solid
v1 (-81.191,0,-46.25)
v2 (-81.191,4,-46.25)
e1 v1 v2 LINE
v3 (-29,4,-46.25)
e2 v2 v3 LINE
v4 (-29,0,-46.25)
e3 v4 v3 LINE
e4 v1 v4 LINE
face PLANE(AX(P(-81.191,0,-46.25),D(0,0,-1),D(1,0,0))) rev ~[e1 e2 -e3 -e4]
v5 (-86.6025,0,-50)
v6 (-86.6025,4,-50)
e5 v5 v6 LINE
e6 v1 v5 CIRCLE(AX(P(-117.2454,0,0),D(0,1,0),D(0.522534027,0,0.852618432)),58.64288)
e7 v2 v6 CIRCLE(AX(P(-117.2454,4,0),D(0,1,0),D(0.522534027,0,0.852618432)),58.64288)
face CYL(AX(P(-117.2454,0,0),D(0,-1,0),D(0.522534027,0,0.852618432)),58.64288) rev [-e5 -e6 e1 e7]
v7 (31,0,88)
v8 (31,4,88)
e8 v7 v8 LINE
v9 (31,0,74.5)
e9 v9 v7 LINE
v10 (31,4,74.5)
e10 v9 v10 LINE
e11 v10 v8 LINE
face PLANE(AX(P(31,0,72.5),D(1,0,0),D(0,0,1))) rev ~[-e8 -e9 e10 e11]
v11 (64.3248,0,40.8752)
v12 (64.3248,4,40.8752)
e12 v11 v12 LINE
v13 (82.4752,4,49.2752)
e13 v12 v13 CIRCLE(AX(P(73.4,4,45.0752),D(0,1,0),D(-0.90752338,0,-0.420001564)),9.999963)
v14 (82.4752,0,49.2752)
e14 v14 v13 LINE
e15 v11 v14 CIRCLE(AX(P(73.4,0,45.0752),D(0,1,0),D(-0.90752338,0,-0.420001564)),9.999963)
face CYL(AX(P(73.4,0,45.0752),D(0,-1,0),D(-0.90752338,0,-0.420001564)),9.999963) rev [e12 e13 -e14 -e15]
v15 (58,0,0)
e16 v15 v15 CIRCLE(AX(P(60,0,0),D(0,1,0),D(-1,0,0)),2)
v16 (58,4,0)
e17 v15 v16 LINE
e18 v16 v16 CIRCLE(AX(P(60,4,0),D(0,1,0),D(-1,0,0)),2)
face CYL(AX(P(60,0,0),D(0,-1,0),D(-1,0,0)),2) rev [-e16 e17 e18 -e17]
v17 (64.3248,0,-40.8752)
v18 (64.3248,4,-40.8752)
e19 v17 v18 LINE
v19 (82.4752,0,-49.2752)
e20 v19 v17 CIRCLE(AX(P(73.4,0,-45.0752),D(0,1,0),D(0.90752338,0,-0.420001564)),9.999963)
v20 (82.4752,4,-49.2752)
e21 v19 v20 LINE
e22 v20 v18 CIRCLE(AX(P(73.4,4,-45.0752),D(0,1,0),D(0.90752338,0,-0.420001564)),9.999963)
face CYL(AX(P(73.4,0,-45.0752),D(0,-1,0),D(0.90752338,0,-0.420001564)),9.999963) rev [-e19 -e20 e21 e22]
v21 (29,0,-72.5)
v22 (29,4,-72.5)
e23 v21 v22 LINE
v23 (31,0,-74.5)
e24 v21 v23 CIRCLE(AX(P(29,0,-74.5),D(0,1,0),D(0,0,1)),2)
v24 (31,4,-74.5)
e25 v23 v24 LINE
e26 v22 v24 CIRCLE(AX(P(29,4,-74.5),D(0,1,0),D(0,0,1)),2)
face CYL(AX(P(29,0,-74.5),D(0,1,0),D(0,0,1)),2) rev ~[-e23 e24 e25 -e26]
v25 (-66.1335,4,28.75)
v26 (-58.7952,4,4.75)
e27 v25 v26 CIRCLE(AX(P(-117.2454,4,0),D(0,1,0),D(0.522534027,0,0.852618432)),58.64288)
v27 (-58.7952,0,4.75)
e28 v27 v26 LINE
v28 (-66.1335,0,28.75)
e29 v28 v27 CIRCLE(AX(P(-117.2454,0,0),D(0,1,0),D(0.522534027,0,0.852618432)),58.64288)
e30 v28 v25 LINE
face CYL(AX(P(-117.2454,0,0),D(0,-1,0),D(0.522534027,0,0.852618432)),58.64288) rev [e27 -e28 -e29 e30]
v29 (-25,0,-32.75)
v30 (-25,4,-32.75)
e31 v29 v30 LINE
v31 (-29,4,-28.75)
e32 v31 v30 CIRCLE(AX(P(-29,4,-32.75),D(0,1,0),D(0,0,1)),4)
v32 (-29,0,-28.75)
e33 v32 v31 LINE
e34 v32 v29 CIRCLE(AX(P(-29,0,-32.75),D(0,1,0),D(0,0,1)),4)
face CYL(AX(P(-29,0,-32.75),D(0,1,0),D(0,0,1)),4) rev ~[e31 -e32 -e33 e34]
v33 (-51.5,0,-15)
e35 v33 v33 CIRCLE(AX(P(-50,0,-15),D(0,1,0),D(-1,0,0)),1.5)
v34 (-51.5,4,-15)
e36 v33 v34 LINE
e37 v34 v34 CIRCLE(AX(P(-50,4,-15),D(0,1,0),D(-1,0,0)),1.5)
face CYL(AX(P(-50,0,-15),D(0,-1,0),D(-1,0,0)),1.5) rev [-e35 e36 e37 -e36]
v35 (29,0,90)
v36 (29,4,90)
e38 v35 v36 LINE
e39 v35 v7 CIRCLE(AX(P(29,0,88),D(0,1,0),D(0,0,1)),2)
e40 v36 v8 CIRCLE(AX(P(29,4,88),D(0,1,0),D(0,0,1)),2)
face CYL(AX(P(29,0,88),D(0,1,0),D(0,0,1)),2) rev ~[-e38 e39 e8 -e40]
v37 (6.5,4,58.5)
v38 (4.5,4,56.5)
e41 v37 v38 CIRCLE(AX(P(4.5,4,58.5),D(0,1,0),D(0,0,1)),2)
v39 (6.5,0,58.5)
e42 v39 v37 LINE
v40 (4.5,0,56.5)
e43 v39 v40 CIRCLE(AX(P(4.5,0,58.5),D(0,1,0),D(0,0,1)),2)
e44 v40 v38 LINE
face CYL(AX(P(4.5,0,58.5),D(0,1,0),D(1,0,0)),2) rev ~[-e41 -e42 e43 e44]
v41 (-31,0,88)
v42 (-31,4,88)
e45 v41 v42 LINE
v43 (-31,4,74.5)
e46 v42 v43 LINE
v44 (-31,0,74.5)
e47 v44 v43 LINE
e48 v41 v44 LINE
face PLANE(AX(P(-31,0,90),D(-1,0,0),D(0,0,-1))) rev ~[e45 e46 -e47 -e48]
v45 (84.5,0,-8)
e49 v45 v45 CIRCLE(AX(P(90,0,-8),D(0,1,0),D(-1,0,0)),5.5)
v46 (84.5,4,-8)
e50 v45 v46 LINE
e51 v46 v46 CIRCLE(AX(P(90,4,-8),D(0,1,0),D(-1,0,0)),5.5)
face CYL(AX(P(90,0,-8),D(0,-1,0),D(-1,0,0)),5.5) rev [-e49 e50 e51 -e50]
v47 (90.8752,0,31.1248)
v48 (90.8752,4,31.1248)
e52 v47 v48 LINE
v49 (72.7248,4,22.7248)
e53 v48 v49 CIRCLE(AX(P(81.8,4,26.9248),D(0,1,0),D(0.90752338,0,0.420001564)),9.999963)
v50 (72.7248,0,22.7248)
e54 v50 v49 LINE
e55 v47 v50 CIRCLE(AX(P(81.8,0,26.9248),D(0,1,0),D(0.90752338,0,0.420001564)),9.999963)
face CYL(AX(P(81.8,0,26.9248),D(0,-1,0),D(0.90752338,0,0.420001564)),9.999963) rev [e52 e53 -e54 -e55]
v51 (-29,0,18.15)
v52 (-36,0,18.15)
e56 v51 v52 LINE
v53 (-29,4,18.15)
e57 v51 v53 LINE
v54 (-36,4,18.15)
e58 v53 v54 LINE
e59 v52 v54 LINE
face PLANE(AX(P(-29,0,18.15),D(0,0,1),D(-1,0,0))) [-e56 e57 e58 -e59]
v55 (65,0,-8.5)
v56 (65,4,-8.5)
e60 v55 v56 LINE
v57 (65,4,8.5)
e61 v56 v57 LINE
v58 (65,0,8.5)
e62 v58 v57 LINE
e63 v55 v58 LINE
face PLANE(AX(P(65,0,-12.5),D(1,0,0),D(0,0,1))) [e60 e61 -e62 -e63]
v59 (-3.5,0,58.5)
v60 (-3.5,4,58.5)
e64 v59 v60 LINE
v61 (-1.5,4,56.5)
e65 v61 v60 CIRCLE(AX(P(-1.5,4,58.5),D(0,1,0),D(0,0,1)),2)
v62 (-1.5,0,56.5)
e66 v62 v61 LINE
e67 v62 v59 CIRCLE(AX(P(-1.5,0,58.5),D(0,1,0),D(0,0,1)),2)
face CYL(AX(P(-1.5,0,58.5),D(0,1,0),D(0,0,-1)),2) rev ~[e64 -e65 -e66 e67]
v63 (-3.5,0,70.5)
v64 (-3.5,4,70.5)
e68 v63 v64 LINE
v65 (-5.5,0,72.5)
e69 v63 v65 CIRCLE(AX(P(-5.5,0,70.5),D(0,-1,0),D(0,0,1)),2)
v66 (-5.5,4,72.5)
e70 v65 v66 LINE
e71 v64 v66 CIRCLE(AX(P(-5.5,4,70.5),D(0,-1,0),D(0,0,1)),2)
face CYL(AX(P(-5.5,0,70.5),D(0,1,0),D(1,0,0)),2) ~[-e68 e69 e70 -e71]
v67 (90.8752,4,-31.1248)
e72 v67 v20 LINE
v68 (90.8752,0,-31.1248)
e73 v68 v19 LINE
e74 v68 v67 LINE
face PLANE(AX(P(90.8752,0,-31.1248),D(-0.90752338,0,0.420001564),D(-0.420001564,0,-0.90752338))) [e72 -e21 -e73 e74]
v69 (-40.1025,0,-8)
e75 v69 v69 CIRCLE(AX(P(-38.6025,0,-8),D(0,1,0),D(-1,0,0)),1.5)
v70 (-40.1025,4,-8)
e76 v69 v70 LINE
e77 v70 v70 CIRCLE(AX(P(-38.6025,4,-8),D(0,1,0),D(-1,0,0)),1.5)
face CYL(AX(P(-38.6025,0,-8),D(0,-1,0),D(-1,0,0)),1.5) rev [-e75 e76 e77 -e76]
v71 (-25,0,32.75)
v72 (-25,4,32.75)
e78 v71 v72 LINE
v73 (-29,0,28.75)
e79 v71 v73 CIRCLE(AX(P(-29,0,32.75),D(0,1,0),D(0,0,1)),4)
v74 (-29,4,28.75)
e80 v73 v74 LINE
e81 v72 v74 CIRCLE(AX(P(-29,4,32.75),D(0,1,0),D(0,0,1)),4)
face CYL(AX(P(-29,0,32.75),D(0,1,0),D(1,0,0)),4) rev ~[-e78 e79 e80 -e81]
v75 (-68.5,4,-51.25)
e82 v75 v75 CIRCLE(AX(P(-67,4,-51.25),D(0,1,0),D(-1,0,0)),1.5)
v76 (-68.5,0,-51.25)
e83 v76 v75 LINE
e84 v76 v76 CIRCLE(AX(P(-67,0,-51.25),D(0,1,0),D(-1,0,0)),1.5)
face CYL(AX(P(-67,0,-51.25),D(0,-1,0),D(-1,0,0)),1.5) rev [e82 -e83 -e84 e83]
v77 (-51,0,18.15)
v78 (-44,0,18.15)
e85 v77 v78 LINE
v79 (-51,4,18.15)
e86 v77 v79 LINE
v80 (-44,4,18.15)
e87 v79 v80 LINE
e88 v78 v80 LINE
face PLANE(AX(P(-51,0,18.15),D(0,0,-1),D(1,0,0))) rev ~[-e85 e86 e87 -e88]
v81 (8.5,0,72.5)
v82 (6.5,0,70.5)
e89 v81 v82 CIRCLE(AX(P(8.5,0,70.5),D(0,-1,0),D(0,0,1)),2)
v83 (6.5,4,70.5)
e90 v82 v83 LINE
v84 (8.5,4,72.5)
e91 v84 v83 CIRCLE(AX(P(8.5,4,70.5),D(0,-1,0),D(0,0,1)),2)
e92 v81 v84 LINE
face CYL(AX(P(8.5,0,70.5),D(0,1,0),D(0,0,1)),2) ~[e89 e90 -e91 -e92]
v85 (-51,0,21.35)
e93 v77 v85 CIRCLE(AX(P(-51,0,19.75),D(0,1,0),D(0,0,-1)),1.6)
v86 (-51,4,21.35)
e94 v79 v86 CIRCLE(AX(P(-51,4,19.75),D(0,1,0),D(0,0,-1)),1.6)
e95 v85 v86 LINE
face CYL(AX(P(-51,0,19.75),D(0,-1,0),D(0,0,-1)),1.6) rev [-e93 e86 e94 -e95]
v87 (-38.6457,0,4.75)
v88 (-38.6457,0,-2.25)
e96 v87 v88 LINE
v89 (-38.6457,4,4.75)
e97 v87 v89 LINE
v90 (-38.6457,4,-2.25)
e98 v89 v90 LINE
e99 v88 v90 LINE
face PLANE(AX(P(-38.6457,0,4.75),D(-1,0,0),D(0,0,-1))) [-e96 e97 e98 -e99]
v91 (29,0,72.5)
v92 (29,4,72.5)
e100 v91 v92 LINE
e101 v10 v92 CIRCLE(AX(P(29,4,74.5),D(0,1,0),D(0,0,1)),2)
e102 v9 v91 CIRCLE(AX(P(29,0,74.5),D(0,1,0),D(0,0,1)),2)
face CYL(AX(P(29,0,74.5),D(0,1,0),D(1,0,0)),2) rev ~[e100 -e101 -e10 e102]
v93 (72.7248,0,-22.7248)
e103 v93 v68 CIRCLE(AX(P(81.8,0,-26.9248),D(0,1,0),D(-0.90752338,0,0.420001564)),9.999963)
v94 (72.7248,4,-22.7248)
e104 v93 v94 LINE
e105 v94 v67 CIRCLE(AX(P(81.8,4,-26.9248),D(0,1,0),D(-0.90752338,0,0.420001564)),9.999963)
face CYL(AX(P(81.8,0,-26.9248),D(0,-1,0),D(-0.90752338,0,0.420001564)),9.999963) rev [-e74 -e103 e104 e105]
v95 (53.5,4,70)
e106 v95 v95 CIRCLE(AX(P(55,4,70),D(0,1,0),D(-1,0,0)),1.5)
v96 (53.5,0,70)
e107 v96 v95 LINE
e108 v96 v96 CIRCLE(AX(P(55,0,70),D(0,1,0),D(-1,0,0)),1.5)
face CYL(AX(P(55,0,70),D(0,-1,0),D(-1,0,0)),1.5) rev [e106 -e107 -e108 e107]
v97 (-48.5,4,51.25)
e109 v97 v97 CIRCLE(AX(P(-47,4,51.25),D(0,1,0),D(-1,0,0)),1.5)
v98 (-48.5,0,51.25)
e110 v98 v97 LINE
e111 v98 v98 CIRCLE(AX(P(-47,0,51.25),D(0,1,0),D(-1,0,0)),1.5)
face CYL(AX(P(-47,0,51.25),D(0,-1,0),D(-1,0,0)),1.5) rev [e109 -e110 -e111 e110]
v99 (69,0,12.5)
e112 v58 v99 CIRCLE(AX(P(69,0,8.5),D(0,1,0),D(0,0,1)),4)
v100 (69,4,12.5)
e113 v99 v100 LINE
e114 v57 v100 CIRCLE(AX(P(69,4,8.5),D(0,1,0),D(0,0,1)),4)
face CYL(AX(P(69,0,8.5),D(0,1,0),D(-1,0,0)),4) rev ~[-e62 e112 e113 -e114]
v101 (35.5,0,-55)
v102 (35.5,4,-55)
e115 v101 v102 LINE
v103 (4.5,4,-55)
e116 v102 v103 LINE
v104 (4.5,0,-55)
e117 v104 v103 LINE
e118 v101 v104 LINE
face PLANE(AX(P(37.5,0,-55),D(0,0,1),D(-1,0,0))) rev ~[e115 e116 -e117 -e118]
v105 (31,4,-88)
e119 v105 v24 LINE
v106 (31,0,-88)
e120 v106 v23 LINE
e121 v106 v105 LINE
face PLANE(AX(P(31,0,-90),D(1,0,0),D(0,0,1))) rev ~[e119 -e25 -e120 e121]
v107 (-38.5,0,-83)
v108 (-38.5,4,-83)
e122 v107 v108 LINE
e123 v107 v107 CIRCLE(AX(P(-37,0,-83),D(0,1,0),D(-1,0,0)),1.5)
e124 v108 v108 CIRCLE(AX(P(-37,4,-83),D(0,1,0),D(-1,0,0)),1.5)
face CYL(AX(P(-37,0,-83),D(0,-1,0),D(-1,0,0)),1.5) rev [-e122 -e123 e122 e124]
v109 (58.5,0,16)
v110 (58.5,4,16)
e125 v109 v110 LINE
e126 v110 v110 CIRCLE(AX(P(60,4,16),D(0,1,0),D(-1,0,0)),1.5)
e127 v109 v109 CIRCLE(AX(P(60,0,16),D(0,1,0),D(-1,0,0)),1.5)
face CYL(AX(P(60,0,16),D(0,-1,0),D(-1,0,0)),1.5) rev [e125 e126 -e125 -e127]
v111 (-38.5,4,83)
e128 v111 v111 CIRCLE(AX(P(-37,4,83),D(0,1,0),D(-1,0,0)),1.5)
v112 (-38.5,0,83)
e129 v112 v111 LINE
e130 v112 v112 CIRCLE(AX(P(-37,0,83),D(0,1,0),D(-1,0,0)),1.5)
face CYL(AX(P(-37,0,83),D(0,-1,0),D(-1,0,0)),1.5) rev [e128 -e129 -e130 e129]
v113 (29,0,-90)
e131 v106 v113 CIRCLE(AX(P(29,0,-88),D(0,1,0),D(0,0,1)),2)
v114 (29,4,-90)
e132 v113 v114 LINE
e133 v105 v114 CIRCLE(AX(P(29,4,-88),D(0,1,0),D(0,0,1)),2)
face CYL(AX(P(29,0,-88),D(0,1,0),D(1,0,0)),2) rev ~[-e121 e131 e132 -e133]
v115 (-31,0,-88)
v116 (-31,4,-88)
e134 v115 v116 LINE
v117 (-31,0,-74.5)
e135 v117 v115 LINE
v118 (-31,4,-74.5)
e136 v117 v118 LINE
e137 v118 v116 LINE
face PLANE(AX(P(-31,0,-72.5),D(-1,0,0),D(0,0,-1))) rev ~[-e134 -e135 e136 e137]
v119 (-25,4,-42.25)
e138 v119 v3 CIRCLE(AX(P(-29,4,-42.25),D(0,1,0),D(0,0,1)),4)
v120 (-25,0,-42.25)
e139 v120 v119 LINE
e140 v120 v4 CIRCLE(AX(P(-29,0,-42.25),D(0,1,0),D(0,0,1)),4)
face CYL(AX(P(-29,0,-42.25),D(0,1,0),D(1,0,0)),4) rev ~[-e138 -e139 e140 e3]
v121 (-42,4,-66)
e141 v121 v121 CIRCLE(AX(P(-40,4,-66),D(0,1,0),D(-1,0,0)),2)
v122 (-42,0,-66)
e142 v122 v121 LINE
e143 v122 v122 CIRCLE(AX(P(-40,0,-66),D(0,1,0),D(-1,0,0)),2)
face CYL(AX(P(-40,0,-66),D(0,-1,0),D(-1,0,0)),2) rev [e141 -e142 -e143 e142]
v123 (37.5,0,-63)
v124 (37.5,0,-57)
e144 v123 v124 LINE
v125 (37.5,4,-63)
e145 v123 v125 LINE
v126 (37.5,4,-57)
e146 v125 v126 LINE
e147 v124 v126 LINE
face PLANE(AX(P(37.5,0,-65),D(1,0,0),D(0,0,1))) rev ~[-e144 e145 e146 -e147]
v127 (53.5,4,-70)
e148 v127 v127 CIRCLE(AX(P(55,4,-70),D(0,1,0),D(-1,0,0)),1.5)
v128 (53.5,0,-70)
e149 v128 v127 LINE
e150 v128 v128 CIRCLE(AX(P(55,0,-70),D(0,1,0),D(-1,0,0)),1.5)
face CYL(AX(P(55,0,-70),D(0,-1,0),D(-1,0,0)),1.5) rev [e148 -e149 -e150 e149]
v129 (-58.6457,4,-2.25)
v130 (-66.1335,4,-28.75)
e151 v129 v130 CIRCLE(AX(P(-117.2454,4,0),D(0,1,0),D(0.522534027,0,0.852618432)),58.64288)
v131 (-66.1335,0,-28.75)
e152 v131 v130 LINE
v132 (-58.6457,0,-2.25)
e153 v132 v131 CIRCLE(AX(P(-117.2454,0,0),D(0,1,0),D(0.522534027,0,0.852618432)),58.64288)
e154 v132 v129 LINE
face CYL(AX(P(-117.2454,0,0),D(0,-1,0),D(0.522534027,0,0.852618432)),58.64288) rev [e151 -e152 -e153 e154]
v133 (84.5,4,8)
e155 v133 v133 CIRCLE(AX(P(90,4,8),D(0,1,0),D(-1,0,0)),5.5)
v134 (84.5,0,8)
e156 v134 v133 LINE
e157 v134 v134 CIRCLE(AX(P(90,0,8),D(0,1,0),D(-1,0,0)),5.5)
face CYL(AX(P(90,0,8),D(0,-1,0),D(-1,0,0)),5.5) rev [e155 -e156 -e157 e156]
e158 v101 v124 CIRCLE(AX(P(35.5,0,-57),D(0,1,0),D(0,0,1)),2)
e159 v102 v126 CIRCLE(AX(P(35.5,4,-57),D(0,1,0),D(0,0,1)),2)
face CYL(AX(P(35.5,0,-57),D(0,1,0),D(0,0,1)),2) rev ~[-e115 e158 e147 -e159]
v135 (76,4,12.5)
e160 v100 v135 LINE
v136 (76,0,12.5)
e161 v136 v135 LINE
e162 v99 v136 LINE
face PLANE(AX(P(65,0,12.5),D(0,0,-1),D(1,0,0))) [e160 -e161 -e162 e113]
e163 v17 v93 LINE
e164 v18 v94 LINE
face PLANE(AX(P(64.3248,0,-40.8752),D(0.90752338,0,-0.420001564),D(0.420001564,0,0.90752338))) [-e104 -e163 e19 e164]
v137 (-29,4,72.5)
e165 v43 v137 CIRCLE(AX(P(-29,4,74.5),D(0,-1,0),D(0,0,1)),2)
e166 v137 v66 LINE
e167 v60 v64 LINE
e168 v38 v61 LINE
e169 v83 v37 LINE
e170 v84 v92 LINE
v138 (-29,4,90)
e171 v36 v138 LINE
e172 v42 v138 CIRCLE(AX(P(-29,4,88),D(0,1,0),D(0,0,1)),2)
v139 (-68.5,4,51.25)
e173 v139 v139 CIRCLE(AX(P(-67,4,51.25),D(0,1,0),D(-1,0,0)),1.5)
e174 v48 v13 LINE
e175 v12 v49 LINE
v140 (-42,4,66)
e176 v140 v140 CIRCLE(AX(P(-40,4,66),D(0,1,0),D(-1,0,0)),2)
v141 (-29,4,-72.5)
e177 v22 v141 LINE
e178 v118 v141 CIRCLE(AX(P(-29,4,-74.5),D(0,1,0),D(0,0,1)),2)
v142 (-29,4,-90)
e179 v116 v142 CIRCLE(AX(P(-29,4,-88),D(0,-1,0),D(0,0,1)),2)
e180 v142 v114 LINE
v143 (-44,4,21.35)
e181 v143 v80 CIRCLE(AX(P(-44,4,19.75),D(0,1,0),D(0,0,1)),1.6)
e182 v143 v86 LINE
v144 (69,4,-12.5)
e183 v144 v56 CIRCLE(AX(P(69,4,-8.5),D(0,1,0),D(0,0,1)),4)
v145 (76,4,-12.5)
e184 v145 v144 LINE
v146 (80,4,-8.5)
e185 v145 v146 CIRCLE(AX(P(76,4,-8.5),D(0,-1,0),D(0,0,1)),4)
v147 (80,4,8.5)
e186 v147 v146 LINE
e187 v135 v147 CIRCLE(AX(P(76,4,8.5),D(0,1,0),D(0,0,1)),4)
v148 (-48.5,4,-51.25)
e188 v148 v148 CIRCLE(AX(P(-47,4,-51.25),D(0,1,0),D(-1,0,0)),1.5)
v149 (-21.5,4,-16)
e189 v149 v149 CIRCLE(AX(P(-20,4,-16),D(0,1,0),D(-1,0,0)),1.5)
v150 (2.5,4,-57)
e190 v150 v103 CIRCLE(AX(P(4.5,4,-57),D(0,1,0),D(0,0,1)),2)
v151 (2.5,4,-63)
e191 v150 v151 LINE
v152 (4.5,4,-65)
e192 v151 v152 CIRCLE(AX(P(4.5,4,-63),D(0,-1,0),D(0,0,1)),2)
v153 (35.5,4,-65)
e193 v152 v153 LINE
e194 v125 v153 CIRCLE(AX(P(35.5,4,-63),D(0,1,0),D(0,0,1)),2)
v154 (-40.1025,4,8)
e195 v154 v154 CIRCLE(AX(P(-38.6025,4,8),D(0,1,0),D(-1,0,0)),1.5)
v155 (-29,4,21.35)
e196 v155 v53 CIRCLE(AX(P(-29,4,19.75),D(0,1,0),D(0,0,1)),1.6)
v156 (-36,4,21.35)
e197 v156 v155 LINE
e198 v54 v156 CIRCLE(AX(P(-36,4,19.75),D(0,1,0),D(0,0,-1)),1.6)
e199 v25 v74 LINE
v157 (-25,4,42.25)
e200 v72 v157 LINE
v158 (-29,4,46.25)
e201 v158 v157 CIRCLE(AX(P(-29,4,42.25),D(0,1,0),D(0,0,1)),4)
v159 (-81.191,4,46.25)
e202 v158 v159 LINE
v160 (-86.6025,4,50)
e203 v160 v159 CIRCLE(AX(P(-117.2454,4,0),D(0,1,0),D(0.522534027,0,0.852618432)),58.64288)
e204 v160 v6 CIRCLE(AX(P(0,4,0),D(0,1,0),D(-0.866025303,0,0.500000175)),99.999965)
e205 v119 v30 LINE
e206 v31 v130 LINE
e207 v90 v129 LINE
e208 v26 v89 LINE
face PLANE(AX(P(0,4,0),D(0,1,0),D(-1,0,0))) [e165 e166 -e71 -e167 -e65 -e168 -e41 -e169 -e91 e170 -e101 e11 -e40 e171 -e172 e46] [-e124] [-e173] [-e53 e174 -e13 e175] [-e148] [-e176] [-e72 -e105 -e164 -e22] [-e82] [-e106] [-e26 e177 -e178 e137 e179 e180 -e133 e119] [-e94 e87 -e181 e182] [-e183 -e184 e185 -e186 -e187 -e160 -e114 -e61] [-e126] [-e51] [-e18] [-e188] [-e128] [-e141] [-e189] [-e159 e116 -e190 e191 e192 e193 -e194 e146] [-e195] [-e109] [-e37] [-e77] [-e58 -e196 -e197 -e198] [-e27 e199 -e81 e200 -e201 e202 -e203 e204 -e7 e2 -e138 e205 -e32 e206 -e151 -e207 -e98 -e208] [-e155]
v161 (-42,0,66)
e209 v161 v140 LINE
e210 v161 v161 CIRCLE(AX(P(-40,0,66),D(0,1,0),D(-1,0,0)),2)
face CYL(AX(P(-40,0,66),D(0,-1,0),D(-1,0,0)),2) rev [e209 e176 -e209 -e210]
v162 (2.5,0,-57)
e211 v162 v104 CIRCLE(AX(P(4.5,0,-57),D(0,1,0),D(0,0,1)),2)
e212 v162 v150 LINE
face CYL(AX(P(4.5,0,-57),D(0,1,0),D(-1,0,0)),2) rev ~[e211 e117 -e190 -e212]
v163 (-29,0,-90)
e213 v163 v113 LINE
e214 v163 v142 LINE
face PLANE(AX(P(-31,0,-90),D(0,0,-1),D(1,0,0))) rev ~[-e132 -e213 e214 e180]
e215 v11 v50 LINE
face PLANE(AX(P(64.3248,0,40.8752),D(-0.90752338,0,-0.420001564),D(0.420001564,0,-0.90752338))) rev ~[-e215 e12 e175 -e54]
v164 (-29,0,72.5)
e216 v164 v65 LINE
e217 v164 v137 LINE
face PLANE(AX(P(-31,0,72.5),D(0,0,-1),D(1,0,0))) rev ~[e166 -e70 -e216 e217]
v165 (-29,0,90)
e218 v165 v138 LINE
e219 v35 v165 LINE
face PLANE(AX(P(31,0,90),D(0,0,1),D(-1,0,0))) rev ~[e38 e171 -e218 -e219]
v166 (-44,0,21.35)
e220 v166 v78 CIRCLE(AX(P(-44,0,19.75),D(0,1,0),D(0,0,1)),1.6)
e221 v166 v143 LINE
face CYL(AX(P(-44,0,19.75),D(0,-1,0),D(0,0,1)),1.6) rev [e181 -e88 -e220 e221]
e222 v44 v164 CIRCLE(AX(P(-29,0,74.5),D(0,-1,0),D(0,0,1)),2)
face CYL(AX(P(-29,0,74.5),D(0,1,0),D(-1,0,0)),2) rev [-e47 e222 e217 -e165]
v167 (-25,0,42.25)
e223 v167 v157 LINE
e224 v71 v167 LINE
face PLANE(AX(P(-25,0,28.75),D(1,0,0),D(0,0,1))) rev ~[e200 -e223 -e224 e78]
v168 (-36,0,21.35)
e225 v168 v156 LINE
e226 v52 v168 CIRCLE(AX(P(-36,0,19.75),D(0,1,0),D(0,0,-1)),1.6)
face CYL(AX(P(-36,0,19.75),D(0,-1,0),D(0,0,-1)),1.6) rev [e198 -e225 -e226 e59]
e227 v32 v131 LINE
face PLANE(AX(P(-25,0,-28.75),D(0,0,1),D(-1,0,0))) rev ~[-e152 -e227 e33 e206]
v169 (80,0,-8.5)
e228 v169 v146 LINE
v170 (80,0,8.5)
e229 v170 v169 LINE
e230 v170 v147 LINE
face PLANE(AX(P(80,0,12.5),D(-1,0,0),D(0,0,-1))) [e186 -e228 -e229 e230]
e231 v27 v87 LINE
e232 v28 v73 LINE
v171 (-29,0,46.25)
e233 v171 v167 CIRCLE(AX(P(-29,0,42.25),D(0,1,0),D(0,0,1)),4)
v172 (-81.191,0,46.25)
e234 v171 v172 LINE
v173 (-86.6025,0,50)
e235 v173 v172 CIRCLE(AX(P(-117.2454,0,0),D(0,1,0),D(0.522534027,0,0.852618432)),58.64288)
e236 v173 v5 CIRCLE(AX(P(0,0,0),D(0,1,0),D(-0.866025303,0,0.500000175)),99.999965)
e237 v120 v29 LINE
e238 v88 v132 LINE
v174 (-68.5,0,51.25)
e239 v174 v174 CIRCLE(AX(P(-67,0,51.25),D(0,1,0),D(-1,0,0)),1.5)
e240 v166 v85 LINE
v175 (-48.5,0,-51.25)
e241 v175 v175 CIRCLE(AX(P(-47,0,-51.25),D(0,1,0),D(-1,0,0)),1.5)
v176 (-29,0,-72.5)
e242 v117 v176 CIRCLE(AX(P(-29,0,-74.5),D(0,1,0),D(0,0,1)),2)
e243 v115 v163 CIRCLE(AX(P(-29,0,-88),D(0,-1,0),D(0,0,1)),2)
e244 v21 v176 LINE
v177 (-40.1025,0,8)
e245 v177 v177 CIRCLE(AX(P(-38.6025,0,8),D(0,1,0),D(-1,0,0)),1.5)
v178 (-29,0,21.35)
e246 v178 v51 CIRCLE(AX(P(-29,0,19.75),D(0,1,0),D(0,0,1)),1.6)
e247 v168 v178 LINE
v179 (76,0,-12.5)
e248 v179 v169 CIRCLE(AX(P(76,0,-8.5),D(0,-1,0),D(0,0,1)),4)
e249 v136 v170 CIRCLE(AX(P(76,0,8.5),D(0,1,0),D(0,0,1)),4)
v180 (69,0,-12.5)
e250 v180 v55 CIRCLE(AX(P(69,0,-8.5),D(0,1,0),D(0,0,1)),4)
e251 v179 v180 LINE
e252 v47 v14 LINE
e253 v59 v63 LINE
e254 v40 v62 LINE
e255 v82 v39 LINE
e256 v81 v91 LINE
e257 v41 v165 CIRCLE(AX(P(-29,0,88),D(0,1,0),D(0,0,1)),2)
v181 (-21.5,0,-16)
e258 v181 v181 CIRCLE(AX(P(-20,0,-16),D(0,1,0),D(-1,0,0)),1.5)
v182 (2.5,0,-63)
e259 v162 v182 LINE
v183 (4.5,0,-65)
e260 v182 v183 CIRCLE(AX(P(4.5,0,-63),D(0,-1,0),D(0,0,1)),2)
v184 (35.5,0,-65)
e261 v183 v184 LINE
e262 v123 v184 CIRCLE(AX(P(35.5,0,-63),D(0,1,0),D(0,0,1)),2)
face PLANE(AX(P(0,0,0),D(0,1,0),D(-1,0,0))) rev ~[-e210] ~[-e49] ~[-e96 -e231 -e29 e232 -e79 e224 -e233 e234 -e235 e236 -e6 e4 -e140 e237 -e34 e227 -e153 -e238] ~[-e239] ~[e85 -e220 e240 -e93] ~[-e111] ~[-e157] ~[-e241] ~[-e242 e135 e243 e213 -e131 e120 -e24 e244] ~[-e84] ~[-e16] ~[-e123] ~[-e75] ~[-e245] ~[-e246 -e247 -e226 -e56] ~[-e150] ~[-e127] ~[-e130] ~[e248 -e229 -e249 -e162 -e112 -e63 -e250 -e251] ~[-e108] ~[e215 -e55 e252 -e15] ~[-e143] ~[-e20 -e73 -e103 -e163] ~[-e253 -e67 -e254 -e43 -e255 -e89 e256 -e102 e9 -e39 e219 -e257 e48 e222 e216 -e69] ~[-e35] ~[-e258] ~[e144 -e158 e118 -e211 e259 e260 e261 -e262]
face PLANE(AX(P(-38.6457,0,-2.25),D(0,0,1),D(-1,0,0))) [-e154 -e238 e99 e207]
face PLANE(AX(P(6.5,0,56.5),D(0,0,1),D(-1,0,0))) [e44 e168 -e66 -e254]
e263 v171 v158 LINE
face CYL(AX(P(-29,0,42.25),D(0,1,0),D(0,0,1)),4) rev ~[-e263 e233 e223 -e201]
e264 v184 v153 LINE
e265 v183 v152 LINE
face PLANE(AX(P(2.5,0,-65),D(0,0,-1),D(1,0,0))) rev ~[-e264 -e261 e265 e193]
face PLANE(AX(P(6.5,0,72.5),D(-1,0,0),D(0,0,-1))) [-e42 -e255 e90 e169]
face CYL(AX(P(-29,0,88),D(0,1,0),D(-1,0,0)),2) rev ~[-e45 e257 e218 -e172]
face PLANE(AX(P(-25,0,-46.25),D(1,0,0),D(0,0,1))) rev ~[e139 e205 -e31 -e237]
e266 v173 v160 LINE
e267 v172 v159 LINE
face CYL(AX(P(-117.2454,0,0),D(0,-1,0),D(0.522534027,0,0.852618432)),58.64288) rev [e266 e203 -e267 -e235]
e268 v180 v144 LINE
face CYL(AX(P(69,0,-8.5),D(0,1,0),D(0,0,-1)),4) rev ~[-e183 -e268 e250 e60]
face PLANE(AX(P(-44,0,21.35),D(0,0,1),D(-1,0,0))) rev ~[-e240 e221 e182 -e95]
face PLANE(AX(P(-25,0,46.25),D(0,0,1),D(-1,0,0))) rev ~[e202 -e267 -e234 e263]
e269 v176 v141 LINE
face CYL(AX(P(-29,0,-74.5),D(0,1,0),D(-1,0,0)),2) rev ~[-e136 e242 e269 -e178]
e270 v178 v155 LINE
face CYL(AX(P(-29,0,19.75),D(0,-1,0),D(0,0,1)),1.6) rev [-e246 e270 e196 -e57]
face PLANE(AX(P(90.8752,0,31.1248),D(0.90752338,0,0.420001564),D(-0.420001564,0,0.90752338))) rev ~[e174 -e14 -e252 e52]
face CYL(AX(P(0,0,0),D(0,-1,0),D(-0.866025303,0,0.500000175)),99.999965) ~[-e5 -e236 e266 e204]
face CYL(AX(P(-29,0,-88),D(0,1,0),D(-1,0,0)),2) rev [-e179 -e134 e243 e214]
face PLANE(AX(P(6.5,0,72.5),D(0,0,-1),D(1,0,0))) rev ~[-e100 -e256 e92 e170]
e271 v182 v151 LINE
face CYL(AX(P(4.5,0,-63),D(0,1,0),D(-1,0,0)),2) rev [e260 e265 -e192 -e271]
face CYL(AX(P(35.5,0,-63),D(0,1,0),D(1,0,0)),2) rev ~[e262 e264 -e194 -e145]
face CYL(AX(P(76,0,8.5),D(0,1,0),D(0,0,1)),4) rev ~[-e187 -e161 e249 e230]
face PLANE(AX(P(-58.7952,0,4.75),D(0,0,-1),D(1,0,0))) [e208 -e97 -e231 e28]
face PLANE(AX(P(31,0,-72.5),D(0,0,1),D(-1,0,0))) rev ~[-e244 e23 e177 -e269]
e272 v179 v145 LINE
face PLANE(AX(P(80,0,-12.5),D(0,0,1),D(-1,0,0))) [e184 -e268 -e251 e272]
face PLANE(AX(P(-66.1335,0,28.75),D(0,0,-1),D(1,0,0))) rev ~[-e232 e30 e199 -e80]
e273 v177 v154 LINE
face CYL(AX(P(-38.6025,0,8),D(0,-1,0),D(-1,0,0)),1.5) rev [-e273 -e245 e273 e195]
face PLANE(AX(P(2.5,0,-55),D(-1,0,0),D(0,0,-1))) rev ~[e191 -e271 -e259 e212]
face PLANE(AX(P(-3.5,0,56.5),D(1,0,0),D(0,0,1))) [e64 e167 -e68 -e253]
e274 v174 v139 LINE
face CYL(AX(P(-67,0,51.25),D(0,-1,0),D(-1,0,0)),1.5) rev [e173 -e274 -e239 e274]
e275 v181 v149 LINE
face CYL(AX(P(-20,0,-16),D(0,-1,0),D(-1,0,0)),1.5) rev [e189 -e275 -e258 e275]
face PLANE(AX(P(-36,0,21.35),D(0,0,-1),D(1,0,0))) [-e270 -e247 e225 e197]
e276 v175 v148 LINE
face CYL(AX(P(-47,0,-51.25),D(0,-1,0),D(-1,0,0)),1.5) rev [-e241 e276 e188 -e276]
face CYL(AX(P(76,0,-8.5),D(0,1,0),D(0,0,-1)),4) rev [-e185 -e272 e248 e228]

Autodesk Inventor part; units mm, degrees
ref_plane "YZ Plane" through (0, 0, 0) normal (1, 0, 0) x (0, 1, 0)
ref_plane "XZ Plane" through (0, 0, 0) normal (0, 1, 0) x (-1, 0, 0)
ref_plane "XY Plane" through (0, 0, 0) normal (0, 0, 1) x (1, 0, 0)
sketch "Skizze1" plane through (0, 0, 0) normal (0, 1, 0) x (-1, 0, 0)
  arc A0 (86.6025, 50) -> (86.6025, -50) centre (117.2454, 0) ccw
  arc A1 (86.6025, 50) -> (86.6025, -50) centre (0, 0) ccw
  line L0 (31, -90) -> (-31, -90)
  line L1 (-31, -90) -> (-31, -72.5)
  line L2 (-31, -72.5) -> (31, -72.5)
  line L3 (31, -72.5) -> (31, -90)
  line L4 (31, 72.5) -> (-31, 72.5)
  line L5 (-31, 72.5) -> (-31, 90)
  line L6 (-31, 90) -> (31, 90)
  line L7 (31, 90) -> (31, 72.5)
  circle A2 centre (67, -51.25) radius 1.5
  circle A3 centre (47, -51.25) radius 1.5
  circle A4 centre (67, 51.25) radius 1.5
  circle A5 centre (47, 51.25) radius 1.5
  line L8 (81.191, -46.25) -> (25, -46.25)
  line L9 (25, -46.25) -> (25, -28.75)
  line L10 (25, -28.75) -> (66.1335, -28.75)
  line L11 (66.1335, 28.75) -> (25, 28.75)
  line L12 (25, 28.75) -> (25, 46.25)
  line L13 (25, 46.25) -> (81.191, 46.25)
  circle A6 centre (38.6025, -8) radius 1.5
  circle A7 centre (38.6025, 8) radius 1.5
  line L14 (58.7952, 4.75) -> (38.6457, 4.75)
  line L15 (38.6457, 4.75) -> (38.6457, -2.25)
  line L16 (38.6457, -2.25) -> (58.6457, -2.25)
  line L17 (-80, -12.5) -> (-65, -12.5)
  line L18 (-65, -12.5) -> (-65, 12.5)
  line L19 (-65, 12.5) -> (-80, 12.5)
  line L20 (-80, 12.5) -> (-80, -12.5)
  circle A8 centre (50, -15) radius 1.5
  circle A9 centre (-55, -70) radius 1.5
  circle A10 centre (-55, 70) radius 1.5
  circle A11 centre (37, -83) radius 1.5
  circle A12 centre (37, 83) radius 1.5
  line L21 (-73.4, -45.0752) -> (-81.8, -26.9248) construction
  line L22 (-64.3248, -40.8752) -> (-72.7248, -22.7248)
  line L23 (-90.8752, -31.1248) -> (-82.4752, -49.2752)
  arc A13 (-82.4752, -49.2752) -> (-64.3248, -40.8752) centre (-73.4, -45.0752) ccw
  arc A14 (-72.7248, -22.7248) -> (-90.8752, -31.1248) centre (-81.8, -26.9248) ccw
  line L24 (-73.4, -45.0752) -> (-81.8, -26.9248) construction
  line L25 (-81.8, 26.9248) -> (-73.4, 45.0752) construction
  line L26 (-90.8752, 31.1248) -> (-82.4752, 49.2752)
  line L27 (-64.3248, 40.8752) -> (-72.7248, 22.7248)
  arc A15 (-90.8752, 31.1248) -> (-72.7248, 22.7248) centre (-81.8, 26.9248) ccw
  arc A16 (-64.3248, 40.8752) -> (-82.4752, 49.2752) centre (-73.4, 45.0752) ccw
  line L28 (-81.8, 26.9248) -> (-73.4, 45.0752) construction
  circle A17 centre (20, -16) radius 1.5
  circle A18 centre (-60, 16) radius 1.5
  line L29 (-2.5, -65) -> (-37.5, -65)
  line L30 (-37.5, -65) -> (-37.5, -55)
  line L31 (-37.5, -55) -> (-2.5, -55)
  line L32 (-2.5, -55) -> (-2.5, -65)
  circle A19 centre (-90, -8) radius 5.5
  circle A20 centre (-90, 8) radius 5.5
  line L33 (3.5, 72.5) -> (-6.5, 72.5)
  line L34 (-6.5, 72.5) -> (-6.5, 56.5)
  line L35 (-6.5, 56.5) -> (3.5, 56.5)
  line L36 (3.5, 56.5) -> (3.5, 72.5)
  line L37 (36, 19.75) -> (29, 19.75) construction
  line L38 (36, 21.35) -> (29, 21.35)
  line L39 (29, 18.15) -> (36, 18.15)
  arc A21 (36, 18.15) -> (36, 21.35) centre (36, 19.75) ccw
  arc A22 (29, 21.35) -> (29, 18.15) centre (29, 19.75) ccw
  line L40 (44, 19.75) -> (51, 19.75) construction
  line L41 (44, 21.35) -> (51, 21.35)
  line L42 (51, 18.15) -> (44, 18.15)
  arc A23 (44, 21.35) -> (44, 18.15) centre (44, 19.75) ccw
  arc A24 (51, 18.15) -> (51, 21.35) centre (51, 19.75) ccw
  circle A25 centre (40, -66) radius 2
  circle A26 centre (40, 66) radius 2
  circle A27 centre (-60, 0) radius 2
  point P0 (58.6025, 0)
  point P1 (-31, -81.25)
  point P2 (-31, 81.25)
  point P3 (-77.6, -36)
  point P4 (-77.6, -36)
  point P5 (-77.6, 36)
  point P6 (-77.6, 36)
  point P7 (32.5, 19.75)
  point P8 (47.5, 19.75)
  dimension "d1" = 100
  dimension "d3" = 28
  dimension "d11" = 17.5
  dimension "d12" = 17.5
  dimension "d13" = 72.5
  dimension "d14" = 72.5
  dimension "d15" = 62
  dimension "d16" = 62
  dimension "d17" = 31
  dimension "d18" = 3
  dimension "d19" = 3
  dimension "d20" = 3
  dimension "d21" = 3
  dimension "d22" = 20
  dimension "d23" = 20
  dimension "d25" = 17.5
  dimension "d26" = 17.5
  dimension "d27" = 46.25
  dimension "d28" = 46.25
  dimension "d31" = 5
  dimension "d32" = 5
  dimension "d33" = 25
  dimension "d34" = 47
  dimension "d35" = 3
  dimension "d36" = 3
  dimension "d37" = 16
  dimension "d38" = 8
  dimension "d39" = 20
  dimension "d50" = 7
  dimension "d51" = 47.75
  dimension "d52" = 20
  dimension "d53" = 15
  dimension "d54" = 25
  dimension "d55" = 12.5
  dimension "d57" = 65
  dimension "d100" = 3
  dimension "d101" = 3
  dimension "d102" = 3
  dimension "d103" = 3
  dimension "d104" = 3
  dimension "d105" = 70
  dimension "d106" = 70
  dimension "d107" = 55
  dimension "d108" = 83
  dimension "d109" = 83
  dimension "d110" = 37
  dimension "d111" = 50
  dimension "d112" = 15
  dimension "d113" = 20
  dimension "d114" = 20
  dimension "d115" = 10
  dimension "d117" = 10
  dimension "d119" = 77.6
  dimension "d120" = 73.4
  dimension "d121" = 36
  dimension "d122" = 36
  dimension "d125" = 16
  dimension "d126" = 20
  dimension "d127" = 3
  dimension "d128" = 3
  dimension "d129" = 80
  dimension "d130" = 32
  dimension "d132" = 10
  dimension "d133" = 35
extrude "Extrusion1" add sketch "Skizze1" along normal blind 4 contours A0 L13 L12 L11 L14 L15 L16 L10 L9 L8 A1
fillet "Rundung1" radius 4 8 edges at (65, 2, 12.5) (65, 2, -12.5) (80, 2, 12.5) (80, 2, -12.5) (-25, 2, -28.75) (-25, 2, -46.25) (-25, 2, 28.75) (-25, 2, 46.25)
fillet "Rundung2" radius 2 16 edges at (31, 2, 90) (31, 2, 72.5) (-31, 2, 72.5) (-31, 2, 90) (31, 2, -90) (31, 2, -72.5) (-31, 2, -90) (-31, 2, -72.5) (2.5, 2, -55) (37.5, 2, -55) (37.5, 2, -65) (2.5, 2, -65) (6.5, 2, 56.5) (-3.5, 2, 56.5) (-3.5, 2, 72.5) (6.5, 2, 72.5)
equation "\"d14\" = d13"
equation "\"d15\" = d16"
properties part number "middle panel"
